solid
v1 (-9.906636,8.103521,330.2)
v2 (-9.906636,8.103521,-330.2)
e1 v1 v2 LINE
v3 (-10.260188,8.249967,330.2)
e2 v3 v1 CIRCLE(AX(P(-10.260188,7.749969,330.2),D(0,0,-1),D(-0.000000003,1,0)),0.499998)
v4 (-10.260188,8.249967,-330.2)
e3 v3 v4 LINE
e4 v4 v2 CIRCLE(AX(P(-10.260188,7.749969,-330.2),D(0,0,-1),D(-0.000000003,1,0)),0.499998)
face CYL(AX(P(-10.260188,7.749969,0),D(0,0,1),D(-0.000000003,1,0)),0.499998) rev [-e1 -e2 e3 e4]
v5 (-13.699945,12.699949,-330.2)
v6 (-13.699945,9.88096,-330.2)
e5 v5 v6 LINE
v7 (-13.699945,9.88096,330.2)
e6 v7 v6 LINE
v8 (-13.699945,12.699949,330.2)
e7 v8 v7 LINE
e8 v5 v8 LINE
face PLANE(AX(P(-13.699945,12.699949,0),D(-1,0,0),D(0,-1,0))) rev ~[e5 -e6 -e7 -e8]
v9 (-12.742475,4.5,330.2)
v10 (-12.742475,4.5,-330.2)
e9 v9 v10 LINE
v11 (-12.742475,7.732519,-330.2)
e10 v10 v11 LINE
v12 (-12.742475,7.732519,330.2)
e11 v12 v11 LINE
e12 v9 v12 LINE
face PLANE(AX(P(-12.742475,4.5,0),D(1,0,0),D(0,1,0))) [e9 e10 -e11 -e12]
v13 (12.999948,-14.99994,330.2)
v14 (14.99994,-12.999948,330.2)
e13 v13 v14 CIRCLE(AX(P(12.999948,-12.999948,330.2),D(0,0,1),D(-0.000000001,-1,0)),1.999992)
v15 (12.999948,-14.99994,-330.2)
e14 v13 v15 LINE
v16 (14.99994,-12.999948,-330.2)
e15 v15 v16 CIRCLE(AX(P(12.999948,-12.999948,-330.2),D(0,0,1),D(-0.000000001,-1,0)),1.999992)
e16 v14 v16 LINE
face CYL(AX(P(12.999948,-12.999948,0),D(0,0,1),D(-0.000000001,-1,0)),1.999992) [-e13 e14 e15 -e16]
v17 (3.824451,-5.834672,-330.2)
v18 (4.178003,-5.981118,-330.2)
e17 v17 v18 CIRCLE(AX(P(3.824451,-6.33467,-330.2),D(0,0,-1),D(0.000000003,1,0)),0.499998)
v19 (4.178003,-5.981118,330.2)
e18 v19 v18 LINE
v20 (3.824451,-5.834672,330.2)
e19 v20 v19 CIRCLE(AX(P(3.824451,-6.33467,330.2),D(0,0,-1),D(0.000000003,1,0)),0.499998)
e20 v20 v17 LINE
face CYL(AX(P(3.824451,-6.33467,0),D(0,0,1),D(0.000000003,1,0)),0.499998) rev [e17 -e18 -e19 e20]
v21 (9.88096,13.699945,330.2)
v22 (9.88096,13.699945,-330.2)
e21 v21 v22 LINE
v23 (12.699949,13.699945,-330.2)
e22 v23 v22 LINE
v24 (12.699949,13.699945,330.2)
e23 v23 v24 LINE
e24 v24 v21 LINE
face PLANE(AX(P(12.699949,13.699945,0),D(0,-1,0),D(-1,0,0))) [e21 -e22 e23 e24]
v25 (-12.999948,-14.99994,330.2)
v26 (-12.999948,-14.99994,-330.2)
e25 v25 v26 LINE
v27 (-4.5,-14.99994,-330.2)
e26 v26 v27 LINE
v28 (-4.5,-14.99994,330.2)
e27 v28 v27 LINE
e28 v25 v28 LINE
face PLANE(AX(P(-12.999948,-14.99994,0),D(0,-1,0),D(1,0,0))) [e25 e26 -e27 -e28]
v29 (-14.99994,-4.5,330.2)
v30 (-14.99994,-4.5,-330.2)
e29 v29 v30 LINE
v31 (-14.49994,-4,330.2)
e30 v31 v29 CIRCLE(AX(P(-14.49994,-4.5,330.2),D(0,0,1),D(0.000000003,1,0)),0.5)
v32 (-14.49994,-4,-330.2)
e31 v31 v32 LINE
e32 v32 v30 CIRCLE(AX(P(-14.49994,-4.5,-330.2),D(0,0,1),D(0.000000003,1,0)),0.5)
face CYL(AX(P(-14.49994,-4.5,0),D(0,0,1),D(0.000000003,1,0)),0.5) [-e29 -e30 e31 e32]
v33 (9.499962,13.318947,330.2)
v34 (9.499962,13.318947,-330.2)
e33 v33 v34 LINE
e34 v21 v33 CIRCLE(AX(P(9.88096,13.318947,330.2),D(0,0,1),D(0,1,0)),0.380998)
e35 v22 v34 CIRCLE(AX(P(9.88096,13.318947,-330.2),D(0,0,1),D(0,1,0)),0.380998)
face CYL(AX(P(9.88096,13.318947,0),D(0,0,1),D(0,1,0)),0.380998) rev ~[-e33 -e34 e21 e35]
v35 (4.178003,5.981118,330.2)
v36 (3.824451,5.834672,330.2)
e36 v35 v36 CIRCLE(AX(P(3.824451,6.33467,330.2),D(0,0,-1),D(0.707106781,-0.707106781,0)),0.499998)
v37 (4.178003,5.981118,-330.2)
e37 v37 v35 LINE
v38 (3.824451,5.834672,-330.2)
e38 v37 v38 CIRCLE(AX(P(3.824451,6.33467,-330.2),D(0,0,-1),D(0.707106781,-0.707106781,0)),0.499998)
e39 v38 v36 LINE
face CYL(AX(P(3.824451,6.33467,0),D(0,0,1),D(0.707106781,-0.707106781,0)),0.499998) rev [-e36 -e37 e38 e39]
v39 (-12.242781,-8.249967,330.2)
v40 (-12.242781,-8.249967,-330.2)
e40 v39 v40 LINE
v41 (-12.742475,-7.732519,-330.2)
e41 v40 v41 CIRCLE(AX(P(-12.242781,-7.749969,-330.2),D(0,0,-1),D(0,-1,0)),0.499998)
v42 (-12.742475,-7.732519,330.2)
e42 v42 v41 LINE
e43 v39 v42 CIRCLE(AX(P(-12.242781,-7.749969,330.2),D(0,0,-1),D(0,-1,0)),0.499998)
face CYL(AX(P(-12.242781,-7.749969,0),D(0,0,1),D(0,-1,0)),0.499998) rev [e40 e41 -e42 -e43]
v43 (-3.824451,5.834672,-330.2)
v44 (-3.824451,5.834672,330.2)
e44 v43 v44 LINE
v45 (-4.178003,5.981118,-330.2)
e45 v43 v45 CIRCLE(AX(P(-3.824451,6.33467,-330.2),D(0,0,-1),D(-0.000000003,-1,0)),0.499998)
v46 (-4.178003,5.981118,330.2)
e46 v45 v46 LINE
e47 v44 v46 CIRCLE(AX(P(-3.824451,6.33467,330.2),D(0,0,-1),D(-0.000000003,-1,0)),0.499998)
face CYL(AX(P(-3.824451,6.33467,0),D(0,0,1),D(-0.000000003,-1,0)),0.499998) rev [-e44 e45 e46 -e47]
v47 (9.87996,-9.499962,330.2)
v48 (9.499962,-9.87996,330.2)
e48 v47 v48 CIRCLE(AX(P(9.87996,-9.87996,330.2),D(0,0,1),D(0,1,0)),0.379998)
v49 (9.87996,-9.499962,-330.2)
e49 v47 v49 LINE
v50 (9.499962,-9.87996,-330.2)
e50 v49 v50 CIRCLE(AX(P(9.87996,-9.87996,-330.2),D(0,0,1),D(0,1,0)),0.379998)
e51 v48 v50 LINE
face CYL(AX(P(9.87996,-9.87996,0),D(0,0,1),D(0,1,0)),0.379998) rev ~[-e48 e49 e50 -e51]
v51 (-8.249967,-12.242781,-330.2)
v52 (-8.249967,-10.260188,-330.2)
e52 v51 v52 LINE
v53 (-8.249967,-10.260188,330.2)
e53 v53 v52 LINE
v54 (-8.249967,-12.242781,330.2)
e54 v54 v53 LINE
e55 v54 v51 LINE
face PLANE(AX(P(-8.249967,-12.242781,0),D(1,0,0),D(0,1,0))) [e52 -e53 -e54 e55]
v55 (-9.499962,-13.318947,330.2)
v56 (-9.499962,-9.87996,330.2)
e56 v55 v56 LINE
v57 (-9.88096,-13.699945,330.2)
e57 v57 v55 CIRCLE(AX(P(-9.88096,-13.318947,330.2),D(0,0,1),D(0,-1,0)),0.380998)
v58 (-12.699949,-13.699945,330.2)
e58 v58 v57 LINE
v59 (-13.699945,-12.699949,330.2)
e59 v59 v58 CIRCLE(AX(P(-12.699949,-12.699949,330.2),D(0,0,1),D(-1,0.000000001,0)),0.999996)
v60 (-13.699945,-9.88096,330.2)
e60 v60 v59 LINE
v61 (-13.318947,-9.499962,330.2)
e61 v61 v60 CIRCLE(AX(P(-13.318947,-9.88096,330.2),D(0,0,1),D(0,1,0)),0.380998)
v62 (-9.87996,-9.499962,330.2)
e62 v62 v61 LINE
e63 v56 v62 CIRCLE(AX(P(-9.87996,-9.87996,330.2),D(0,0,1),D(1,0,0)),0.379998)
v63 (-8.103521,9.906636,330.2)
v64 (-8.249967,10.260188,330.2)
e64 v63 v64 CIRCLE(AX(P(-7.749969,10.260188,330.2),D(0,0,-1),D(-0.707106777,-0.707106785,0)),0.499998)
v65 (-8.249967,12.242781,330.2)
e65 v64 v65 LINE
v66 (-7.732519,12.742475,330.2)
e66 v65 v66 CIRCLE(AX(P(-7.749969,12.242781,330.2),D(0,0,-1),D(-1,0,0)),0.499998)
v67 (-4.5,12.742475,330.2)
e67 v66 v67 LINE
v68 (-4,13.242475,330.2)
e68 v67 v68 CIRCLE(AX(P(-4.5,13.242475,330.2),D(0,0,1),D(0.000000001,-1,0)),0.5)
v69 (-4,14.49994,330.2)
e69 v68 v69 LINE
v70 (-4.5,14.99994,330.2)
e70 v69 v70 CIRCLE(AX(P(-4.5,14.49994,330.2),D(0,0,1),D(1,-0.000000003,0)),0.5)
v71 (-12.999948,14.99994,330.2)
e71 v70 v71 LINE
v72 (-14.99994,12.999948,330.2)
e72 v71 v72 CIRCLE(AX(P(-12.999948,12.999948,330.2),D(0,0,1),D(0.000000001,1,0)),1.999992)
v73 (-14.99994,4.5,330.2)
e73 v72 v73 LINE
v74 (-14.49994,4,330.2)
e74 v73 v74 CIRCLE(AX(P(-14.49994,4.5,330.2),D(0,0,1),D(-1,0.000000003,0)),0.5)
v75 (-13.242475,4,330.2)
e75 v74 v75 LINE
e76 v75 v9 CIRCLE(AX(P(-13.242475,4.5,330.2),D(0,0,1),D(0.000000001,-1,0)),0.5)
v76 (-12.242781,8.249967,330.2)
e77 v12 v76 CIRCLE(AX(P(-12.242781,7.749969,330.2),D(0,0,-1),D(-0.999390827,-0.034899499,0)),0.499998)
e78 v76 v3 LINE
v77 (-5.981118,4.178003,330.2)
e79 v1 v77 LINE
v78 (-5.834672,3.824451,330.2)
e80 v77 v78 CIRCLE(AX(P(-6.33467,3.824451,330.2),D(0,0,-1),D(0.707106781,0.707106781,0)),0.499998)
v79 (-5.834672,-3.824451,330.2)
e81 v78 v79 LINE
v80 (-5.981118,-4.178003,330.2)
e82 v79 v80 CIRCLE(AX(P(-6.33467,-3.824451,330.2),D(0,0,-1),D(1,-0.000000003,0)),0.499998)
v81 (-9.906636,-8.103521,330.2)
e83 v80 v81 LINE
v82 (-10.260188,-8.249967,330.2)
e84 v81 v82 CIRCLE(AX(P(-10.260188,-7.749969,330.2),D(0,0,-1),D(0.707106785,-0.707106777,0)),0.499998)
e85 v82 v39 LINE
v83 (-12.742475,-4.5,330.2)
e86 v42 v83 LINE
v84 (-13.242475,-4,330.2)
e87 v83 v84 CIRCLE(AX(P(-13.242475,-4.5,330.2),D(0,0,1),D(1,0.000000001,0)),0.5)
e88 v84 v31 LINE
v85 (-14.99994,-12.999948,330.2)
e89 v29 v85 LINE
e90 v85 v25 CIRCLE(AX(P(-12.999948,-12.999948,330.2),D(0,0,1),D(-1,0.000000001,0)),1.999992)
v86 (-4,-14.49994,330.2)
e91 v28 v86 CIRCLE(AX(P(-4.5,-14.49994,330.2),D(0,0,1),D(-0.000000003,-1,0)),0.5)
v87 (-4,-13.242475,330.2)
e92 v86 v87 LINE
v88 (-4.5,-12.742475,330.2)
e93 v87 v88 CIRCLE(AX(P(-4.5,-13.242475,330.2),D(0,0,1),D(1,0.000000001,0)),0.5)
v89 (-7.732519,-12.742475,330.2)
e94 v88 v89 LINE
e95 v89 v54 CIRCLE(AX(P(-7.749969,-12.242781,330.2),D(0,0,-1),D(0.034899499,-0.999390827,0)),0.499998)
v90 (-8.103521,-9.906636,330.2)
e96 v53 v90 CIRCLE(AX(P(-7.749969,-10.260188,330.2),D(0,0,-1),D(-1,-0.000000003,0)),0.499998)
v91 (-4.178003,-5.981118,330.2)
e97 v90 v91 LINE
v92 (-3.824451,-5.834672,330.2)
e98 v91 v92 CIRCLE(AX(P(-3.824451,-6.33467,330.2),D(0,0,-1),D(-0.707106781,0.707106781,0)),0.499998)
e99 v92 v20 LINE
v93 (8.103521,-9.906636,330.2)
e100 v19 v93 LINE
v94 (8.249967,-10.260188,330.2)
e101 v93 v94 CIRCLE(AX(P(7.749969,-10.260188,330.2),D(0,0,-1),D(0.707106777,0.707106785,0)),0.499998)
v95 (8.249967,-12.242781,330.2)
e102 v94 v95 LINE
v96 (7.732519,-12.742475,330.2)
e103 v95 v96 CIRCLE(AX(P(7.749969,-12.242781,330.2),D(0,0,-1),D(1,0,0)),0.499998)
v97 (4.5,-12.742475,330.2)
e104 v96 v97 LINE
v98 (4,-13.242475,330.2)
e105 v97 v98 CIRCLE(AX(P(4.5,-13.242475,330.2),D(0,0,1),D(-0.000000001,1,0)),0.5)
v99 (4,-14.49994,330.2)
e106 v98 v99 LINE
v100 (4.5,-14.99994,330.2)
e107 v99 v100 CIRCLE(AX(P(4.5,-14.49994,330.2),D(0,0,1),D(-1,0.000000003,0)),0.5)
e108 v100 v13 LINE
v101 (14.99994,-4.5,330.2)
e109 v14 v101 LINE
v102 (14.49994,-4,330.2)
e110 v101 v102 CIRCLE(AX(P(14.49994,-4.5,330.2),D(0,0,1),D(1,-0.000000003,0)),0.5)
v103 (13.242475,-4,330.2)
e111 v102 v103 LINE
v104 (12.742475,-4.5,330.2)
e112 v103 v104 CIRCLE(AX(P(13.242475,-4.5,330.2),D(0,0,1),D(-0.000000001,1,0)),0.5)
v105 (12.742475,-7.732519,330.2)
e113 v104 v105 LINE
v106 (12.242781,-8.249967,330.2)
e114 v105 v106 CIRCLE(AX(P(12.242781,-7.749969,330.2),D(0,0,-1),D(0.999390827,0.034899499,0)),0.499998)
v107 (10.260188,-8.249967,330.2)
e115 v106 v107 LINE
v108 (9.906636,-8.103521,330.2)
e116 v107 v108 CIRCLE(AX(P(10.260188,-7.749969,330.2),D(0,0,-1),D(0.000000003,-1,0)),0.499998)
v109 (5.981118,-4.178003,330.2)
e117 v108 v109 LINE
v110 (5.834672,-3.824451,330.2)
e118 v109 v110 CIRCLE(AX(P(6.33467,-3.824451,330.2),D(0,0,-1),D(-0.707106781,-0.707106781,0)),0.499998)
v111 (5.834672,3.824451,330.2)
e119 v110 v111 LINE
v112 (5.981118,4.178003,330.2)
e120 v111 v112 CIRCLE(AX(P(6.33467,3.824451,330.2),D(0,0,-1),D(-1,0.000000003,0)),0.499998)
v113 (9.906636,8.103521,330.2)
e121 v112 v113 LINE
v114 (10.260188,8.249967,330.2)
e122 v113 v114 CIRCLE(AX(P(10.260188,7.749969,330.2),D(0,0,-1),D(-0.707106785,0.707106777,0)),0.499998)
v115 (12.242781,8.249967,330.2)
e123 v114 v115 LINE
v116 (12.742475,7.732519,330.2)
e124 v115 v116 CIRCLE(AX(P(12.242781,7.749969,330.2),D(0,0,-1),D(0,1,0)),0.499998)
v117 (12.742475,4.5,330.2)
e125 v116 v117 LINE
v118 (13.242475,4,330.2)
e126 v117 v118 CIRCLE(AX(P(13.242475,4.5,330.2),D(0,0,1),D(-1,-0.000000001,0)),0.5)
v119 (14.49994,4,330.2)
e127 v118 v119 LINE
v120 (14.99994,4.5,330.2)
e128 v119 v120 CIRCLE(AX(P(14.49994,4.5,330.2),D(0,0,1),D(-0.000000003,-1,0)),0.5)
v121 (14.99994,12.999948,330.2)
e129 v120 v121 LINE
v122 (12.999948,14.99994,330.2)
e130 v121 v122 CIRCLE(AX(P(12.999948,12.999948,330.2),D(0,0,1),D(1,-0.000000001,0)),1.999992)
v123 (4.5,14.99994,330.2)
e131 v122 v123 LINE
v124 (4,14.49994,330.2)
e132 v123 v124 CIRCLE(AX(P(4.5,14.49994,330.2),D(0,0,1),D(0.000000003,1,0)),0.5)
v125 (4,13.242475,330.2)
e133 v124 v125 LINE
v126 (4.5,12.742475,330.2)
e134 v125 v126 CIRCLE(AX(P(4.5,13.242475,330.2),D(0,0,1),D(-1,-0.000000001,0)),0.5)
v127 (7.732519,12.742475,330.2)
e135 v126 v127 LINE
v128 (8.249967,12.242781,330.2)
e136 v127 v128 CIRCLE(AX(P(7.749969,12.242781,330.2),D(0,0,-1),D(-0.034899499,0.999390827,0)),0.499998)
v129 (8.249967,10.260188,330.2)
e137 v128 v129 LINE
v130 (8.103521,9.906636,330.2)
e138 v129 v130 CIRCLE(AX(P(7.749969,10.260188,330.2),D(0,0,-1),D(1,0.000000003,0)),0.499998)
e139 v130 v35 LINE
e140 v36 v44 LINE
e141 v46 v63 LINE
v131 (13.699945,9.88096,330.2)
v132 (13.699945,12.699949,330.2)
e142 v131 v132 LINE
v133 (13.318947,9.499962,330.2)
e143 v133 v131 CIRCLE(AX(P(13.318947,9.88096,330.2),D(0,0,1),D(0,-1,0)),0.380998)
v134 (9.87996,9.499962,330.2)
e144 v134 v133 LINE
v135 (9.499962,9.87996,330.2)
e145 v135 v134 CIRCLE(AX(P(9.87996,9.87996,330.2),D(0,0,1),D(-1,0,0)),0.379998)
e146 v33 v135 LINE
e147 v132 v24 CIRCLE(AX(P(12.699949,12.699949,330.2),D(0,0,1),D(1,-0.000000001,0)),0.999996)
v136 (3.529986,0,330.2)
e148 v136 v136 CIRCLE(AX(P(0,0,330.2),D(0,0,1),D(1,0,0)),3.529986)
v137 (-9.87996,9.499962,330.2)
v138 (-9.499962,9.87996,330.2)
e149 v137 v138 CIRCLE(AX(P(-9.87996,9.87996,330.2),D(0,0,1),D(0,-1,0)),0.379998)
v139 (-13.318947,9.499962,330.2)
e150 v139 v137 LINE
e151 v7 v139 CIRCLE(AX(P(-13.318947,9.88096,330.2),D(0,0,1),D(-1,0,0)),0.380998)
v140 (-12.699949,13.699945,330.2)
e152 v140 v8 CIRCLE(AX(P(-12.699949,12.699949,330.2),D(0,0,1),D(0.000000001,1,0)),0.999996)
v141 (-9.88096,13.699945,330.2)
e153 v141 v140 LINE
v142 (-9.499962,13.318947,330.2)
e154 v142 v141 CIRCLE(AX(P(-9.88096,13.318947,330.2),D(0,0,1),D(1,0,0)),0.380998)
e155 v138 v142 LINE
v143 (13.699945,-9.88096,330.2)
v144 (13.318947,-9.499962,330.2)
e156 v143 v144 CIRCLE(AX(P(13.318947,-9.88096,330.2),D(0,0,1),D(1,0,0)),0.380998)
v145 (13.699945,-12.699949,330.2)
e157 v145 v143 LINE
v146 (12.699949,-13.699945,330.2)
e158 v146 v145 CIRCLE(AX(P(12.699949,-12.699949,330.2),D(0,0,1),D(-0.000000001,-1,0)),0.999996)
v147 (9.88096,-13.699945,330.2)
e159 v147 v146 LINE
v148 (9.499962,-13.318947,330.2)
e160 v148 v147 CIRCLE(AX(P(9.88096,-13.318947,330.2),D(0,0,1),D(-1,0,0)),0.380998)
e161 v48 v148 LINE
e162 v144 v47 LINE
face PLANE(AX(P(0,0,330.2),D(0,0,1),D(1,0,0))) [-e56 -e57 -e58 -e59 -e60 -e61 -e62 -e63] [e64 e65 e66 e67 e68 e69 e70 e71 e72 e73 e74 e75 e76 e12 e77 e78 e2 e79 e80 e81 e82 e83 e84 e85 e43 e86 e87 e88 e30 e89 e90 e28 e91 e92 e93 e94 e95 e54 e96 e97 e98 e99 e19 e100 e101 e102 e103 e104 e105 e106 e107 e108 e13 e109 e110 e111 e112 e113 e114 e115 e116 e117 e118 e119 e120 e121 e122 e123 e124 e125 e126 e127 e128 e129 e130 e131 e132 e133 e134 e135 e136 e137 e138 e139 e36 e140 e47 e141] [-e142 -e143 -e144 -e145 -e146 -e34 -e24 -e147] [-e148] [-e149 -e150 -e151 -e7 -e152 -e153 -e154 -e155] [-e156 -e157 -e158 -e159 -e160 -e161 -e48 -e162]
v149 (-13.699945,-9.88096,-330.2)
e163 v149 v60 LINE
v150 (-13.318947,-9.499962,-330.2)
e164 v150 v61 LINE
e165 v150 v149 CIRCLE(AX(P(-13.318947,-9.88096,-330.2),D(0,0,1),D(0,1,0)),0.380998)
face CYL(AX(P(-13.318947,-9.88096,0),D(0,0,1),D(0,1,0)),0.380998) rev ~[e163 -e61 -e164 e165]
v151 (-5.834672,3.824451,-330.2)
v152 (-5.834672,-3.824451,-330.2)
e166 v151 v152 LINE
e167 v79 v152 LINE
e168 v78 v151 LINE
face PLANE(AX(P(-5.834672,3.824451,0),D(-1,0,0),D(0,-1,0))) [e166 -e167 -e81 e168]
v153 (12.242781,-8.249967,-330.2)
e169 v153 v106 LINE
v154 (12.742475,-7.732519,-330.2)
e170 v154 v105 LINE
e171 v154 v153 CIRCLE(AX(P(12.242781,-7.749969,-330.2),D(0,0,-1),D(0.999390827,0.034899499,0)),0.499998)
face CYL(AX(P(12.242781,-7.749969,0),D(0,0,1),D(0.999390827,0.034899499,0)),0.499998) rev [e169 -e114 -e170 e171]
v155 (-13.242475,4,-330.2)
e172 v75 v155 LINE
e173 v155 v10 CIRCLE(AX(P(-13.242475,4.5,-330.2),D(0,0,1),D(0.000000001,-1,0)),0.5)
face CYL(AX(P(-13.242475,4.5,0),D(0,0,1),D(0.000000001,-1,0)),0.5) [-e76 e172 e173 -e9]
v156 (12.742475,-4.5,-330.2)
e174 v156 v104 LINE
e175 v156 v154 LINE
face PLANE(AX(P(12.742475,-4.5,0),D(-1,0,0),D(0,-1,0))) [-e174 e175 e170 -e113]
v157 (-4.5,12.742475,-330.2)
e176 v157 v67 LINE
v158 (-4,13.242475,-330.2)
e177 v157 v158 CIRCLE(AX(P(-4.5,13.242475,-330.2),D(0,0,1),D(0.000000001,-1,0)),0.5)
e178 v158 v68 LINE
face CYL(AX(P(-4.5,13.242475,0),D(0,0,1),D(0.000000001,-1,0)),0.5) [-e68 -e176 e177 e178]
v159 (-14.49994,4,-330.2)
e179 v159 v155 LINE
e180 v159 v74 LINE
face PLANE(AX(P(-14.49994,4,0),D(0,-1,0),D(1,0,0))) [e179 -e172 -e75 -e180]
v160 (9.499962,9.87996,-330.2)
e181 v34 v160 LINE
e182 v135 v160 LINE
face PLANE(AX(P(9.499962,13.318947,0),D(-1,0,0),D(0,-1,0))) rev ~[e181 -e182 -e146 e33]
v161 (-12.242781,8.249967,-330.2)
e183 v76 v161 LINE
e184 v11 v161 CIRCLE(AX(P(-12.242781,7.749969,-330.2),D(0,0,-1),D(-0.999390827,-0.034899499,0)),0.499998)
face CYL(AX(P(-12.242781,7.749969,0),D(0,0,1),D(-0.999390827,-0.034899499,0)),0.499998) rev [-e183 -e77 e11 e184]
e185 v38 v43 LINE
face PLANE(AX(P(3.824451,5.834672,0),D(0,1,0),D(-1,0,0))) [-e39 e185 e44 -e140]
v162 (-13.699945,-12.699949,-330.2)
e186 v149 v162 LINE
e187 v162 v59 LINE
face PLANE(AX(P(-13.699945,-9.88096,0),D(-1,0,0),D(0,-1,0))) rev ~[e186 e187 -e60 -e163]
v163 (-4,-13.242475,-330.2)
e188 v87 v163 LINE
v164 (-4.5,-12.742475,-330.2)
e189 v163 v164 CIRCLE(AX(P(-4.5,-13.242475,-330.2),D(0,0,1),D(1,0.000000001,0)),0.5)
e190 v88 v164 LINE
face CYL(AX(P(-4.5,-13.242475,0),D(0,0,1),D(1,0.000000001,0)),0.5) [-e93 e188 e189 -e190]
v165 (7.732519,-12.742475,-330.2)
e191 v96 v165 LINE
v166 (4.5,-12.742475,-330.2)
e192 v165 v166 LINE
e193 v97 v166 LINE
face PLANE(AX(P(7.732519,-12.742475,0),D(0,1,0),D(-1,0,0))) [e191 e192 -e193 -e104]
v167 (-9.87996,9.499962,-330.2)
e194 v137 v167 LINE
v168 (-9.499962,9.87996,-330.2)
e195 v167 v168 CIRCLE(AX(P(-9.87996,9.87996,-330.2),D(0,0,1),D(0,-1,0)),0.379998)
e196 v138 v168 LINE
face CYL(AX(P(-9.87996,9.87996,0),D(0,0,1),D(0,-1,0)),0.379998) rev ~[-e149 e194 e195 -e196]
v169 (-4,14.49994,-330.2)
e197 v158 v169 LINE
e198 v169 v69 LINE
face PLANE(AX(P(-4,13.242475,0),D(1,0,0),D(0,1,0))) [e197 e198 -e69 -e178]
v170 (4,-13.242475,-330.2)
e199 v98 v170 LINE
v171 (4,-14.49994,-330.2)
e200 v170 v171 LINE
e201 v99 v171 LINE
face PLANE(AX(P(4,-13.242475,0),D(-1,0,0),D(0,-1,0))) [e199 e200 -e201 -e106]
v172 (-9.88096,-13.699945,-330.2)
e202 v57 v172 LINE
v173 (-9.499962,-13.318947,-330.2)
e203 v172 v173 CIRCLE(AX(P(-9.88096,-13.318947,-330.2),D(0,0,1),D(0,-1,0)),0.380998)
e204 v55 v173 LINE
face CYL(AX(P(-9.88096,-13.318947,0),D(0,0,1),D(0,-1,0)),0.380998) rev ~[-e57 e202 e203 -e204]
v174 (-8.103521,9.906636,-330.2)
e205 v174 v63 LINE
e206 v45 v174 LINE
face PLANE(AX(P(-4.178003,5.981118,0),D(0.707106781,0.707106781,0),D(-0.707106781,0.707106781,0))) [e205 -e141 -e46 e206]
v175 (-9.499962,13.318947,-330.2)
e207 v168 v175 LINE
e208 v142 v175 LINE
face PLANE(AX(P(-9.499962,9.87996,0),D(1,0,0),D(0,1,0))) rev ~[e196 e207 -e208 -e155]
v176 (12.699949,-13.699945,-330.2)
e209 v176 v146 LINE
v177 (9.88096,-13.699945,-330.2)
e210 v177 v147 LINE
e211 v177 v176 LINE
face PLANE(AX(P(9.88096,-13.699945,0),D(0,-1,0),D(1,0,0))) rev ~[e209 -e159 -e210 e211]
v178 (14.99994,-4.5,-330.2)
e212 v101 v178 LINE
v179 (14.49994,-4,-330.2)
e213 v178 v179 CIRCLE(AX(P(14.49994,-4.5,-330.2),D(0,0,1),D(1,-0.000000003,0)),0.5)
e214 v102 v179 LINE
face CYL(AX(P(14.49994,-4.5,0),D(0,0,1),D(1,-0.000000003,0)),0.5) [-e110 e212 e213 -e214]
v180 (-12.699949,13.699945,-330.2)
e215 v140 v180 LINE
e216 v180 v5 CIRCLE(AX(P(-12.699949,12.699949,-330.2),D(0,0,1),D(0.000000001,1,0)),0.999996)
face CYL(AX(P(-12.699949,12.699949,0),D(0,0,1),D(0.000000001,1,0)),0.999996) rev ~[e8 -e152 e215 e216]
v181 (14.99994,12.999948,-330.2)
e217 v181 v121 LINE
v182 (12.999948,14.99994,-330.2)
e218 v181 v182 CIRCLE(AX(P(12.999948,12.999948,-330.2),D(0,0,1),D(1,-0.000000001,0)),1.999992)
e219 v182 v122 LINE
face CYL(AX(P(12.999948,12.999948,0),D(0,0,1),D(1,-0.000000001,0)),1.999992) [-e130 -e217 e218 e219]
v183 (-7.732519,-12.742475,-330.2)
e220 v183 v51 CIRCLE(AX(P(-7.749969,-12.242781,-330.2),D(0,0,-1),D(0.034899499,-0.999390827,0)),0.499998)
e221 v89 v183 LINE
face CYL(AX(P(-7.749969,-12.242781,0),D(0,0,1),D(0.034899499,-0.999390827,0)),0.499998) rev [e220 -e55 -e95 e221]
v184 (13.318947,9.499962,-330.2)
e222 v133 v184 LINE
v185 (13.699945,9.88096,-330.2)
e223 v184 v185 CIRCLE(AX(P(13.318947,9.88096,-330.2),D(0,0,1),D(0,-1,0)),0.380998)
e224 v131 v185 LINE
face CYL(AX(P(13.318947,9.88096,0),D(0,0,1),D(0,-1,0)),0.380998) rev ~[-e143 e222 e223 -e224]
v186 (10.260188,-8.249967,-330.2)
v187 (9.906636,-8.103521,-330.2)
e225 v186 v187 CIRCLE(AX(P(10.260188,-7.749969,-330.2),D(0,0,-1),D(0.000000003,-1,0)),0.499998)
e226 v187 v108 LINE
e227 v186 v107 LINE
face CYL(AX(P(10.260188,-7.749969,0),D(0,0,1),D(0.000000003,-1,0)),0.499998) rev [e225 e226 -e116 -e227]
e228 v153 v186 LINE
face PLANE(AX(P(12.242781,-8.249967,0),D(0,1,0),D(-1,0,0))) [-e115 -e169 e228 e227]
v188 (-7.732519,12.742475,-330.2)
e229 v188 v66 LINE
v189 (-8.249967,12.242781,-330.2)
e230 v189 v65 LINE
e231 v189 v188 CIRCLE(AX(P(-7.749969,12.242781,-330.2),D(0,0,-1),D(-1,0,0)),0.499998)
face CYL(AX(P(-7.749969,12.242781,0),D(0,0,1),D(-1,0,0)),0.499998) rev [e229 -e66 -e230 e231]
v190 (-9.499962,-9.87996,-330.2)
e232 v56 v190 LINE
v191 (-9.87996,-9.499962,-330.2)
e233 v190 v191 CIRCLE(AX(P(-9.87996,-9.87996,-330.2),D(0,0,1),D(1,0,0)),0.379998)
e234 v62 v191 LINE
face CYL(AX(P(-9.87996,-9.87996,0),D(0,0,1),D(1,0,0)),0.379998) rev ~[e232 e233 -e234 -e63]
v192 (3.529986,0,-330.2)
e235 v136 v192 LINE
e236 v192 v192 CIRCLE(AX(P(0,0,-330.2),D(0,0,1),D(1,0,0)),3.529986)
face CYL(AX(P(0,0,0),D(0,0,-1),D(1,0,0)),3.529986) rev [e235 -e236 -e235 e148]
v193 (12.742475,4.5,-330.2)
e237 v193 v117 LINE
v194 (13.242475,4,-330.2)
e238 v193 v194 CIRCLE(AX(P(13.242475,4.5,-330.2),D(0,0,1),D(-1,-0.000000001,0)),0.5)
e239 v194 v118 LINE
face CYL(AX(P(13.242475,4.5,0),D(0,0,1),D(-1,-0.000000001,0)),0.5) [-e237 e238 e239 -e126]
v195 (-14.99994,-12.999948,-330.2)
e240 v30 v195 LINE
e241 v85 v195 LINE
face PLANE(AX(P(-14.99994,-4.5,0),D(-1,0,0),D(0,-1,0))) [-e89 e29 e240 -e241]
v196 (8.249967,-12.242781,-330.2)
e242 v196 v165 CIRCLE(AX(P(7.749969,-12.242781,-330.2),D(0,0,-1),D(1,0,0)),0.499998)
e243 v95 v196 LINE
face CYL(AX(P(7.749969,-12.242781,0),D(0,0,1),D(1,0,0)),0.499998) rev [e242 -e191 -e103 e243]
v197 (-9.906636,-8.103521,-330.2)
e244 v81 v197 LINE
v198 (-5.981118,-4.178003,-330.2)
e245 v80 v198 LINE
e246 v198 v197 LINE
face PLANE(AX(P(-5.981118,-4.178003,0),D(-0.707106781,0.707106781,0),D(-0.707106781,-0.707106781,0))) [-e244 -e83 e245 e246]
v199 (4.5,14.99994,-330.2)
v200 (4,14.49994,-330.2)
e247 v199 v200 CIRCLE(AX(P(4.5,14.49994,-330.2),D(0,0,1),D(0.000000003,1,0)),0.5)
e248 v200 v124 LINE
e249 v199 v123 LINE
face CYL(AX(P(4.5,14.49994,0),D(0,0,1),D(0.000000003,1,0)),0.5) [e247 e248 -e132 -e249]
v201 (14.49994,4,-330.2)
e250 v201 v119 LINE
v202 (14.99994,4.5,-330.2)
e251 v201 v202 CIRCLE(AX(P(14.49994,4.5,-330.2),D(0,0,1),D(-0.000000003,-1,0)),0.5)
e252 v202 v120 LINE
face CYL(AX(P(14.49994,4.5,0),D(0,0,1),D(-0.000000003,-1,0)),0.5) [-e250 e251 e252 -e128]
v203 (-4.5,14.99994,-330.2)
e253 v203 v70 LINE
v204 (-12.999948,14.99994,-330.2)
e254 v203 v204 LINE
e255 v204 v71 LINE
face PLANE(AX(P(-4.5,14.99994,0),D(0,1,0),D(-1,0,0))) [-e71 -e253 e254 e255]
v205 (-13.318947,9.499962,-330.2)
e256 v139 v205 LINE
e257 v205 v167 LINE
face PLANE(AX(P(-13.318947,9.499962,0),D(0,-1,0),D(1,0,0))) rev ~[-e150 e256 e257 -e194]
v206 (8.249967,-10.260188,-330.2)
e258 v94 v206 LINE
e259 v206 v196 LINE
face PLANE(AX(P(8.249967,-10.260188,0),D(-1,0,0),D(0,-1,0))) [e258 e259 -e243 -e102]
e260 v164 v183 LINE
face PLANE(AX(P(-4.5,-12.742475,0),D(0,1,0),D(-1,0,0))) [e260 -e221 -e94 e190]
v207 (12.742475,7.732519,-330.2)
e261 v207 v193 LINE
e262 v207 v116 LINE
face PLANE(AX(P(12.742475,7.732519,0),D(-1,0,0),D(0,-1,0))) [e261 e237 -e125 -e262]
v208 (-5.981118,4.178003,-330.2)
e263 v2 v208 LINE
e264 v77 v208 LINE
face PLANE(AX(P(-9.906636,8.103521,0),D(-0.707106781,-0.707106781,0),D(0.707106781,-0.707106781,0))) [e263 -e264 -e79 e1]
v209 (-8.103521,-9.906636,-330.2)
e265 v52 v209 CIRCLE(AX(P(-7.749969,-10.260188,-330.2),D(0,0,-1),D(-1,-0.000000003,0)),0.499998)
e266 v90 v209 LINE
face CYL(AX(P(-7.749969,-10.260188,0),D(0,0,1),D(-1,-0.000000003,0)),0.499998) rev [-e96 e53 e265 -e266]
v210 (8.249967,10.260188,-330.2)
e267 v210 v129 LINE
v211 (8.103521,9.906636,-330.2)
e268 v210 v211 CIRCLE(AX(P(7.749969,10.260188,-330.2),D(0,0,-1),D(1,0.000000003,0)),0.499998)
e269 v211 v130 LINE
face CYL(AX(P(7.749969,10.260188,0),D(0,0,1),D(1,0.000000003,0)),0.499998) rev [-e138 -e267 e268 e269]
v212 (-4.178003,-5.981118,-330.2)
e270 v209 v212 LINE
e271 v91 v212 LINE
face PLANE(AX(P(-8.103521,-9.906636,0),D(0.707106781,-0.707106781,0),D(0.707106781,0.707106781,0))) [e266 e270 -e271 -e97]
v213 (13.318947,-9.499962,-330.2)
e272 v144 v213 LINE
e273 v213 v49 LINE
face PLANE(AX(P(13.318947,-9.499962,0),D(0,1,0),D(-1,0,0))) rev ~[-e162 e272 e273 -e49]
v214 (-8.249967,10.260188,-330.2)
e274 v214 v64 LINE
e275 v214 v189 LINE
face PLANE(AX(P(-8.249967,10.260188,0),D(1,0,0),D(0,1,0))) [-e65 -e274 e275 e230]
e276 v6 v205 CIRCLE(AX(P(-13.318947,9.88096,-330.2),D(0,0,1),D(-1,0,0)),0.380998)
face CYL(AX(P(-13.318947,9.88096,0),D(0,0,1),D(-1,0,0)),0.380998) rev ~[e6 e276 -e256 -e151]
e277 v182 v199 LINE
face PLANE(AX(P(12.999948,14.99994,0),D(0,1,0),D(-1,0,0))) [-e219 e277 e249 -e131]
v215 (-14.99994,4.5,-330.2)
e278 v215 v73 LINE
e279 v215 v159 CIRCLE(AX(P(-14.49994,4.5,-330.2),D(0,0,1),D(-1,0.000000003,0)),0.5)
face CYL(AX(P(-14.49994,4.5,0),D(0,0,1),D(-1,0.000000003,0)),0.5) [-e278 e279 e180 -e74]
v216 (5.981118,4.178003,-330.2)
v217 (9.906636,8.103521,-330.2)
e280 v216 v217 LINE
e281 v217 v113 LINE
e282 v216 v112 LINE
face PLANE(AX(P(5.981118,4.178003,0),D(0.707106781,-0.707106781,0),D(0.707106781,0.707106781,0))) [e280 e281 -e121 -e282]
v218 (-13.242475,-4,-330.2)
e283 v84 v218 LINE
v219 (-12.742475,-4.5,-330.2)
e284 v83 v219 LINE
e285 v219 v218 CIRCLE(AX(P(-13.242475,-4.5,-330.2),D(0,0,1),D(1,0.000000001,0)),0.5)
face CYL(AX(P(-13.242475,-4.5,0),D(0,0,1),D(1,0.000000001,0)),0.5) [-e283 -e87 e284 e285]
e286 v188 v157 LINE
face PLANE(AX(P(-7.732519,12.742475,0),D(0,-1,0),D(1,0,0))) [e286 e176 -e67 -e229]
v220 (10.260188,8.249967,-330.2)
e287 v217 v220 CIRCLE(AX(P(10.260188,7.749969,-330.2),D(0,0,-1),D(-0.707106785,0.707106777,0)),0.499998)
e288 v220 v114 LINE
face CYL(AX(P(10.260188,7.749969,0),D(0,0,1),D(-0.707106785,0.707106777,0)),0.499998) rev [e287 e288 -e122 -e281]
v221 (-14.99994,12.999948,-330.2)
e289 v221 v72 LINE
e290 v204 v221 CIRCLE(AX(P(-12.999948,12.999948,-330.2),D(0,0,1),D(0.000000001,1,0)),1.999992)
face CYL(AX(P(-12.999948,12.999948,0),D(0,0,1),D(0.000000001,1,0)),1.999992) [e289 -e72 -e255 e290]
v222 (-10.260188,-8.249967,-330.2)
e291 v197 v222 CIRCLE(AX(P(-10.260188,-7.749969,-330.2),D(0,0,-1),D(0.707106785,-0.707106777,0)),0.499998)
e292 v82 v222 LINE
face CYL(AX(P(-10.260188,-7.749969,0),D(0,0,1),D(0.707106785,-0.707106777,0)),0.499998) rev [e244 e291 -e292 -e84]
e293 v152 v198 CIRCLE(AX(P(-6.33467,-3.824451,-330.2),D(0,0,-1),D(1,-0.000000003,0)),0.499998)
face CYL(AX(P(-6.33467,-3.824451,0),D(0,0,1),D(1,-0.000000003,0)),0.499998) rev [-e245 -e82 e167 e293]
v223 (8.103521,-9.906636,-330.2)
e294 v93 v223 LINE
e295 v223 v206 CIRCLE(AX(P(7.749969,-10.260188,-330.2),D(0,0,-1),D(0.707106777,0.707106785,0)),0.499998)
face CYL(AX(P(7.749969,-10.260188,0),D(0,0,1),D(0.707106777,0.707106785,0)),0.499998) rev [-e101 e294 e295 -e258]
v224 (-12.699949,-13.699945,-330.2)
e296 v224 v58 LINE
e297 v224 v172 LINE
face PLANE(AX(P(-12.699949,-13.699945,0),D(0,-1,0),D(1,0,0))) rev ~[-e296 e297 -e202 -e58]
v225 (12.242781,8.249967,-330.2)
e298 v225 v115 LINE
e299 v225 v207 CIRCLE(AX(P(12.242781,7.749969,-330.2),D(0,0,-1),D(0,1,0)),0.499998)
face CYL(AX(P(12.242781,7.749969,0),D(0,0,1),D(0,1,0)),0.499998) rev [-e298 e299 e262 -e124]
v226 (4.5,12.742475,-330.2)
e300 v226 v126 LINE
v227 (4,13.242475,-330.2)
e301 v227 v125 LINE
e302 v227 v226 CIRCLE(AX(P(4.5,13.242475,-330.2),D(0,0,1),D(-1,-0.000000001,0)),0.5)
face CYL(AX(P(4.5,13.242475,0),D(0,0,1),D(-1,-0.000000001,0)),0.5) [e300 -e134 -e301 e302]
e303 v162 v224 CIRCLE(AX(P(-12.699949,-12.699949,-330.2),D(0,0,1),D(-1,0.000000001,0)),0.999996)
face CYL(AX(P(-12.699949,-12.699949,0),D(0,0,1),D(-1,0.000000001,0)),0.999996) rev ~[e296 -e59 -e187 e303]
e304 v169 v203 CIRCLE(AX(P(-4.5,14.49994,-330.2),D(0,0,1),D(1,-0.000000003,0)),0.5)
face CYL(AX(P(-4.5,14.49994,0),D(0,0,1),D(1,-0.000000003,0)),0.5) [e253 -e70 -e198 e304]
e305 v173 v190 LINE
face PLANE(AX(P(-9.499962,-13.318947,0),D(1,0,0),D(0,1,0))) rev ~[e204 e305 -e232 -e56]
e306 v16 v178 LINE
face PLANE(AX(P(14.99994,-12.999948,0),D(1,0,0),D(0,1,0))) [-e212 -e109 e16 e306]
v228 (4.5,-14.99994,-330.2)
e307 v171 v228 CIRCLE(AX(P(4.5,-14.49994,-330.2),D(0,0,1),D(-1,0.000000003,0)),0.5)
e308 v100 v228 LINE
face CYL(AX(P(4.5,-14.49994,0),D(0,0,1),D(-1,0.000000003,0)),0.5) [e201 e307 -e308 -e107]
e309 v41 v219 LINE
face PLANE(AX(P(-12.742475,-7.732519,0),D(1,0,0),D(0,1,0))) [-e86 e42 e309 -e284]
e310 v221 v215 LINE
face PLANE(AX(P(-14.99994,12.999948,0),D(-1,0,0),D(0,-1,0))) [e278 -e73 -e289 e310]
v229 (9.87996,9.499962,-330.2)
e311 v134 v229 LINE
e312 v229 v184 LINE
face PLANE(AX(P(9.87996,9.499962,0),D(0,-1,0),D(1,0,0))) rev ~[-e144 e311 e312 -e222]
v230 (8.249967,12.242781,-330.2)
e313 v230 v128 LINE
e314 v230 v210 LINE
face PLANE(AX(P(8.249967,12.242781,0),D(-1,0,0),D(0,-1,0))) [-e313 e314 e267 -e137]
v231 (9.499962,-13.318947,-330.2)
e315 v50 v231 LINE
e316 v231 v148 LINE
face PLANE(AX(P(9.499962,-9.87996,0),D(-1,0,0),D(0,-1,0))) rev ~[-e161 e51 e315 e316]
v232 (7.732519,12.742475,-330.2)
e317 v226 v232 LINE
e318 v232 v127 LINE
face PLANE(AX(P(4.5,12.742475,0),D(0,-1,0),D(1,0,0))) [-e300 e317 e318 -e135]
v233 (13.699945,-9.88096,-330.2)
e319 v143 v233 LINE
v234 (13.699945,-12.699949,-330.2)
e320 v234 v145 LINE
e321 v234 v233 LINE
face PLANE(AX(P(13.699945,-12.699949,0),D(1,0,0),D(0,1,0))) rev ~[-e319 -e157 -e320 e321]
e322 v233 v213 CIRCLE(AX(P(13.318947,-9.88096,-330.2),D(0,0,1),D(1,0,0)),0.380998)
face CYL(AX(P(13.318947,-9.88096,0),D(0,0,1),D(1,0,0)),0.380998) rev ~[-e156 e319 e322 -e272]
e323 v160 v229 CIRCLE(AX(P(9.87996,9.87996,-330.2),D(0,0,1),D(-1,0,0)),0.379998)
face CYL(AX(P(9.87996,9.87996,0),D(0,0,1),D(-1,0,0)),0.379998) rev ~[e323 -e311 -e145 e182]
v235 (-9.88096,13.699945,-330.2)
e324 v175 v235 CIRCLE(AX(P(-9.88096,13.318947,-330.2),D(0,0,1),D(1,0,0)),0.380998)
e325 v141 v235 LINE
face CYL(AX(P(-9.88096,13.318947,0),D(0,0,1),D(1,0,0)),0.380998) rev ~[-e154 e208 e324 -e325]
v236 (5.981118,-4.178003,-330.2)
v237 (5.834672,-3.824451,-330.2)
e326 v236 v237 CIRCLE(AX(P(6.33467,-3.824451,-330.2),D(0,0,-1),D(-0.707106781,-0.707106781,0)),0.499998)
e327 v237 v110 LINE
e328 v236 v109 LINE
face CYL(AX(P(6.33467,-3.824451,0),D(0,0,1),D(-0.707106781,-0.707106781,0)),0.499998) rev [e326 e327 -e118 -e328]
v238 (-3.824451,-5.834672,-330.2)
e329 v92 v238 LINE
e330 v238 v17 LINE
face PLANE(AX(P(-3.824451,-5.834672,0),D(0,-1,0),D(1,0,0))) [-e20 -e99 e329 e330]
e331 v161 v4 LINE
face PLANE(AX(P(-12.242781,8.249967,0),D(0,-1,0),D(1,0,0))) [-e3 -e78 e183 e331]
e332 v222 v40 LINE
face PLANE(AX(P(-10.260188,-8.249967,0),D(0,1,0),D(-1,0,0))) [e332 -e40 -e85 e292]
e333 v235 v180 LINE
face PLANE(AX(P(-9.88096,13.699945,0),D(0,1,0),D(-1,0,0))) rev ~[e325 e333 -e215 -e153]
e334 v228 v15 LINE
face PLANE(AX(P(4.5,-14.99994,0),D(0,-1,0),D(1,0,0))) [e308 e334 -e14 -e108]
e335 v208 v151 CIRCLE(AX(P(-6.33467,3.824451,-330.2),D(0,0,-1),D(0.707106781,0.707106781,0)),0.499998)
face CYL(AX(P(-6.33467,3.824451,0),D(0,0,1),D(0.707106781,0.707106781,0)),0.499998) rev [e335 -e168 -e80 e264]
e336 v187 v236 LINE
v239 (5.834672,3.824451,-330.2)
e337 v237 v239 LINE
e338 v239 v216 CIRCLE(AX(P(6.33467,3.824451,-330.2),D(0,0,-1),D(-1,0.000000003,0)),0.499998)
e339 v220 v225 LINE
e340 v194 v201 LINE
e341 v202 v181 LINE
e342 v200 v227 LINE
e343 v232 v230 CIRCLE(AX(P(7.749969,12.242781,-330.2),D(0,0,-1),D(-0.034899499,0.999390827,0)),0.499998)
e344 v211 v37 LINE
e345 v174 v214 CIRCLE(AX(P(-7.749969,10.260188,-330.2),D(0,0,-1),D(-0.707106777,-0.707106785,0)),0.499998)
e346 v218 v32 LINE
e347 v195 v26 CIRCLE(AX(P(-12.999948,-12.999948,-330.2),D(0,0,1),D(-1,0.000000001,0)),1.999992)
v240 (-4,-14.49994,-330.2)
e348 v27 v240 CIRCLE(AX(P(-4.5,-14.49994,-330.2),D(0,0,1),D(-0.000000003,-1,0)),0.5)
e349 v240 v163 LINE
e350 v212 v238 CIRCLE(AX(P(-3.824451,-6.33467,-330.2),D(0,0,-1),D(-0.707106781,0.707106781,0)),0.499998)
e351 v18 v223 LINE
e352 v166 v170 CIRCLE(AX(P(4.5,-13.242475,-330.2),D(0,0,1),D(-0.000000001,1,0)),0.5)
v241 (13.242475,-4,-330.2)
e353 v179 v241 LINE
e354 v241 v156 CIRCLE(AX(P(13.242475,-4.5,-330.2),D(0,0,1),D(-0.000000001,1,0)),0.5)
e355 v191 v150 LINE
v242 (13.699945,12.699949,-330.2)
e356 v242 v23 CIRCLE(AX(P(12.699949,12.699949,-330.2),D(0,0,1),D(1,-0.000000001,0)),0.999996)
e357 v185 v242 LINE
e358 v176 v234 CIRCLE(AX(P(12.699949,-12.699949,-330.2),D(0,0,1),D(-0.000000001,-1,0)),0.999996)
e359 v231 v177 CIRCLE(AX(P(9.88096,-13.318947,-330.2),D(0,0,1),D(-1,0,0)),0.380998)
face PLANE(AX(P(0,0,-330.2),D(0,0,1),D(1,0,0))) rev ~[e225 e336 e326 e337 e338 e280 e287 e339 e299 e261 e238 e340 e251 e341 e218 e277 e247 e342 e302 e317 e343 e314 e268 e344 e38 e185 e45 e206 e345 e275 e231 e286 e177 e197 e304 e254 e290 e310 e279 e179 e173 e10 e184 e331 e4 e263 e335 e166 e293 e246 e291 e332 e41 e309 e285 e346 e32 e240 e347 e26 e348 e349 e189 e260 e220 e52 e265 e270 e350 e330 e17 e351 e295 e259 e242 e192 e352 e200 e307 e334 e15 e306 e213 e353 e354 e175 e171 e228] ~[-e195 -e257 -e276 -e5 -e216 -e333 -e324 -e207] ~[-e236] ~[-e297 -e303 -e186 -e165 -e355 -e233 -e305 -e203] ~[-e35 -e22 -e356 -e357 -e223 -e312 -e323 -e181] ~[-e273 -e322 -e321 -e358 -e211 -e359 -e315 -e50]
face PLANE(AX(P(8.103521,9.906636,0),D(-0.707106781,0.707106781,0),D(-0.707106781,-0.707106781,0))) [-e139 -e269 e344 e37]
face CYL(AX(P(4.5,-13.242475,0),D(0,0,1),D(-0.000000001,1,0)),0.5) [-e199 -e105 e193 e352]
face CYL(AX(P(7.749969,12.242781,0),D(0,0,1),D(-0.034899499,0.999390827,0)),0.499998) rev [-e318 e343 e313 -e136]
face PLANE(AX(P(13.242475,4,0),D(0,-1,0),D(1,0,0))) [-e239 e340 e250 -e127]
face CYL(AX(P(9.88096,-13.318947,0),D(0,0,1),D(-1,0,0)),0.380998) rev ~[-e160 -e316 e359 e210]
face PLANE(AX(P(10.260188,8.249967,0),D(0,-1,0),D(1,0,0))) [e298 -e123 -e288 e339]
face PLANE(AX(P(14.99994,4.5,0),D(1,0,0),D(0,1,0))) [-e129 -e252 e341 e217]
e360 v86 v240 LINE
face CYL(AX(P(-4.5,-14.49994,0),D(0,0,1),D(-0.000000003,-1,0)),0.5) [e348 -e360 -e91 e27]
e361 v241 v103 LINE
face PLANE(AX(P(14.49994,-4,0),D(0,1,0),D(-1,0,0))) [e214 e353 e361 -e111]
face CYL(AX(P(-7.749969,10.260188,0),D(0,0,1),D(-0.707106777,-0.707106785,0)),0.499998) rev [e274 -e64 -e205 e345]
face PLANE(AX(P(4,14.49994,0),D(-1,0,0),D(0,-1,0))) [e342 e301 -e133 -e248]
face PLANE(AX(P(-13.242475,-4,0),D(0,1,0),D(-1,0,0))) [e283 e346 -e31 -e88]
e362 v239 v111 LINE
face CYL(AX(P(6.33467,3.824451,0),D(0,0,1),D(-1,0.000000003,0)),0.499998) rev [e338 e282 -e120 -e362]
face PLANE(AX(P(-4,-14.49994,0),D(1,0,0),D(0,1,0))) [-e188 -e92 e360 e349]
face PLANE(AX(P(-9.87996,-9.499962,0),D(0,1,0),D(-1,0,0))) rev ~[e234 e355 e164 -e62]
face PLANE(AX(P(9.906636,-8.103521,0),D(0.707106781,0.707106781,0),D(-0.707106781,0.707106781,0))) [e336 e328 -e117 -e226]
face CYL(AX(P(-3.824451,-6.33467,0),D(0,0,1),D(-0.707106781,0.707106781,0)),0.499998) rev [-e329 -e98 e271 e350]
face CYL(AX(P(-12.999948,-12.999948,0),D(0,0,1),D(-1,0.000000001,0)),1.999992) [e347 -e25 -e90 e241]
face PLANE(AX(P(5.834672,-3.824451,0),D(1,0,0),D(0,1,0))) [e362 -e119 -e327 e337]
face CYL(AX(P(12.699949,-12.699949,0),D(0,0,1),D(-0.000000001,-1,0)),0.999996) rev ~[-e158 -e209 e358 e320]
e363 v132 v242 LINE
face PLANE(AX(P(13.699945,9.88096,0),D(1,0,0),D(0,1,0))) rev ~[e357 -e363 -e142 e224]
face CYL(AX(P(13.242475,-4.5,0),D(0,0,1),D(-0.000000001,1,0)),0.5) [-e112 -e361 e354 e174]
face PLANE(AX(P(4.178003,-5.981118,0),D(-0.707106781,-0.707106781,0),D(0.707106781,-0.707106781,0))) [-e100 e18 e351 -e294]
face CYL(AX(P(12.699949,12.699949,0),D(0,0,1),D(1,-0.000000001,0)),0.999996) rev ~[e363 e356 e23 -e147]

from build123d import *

# Parameters (mm, degrees)
SKETCH1_R           = 3.52998588
BOSS_EXTRUDE1_DEPTH = 330.2


with BuildPart() as part:
    # Sketch1 → Boss-Extrude1 (new, symmetric)
    with BuildSketch(Plane.XY):
        with BuildLine():
            Line((14.49994, -4), (13.24247465, -4))
            ThreePointArc((13.24247465, -4), (12.88892126, -4.146446609), (12.74247465, -4.5))
            Line((12.74247465, -4.5), (12.74247465, -7.732519321))
            ThreePointArc((12.74247465, -7.732519321), (12.602449697, -8.097296796), (12.242781236, -8.249967))
            Line((12.242781236, -8.249967), (10.260188032, -8.249967))
            ThreePointArc((10.260188032, -8.249967), (10.068847082, -8.211906919), (9.906636056, -8.103520976))
            Line((9.906636056, -8.103520976), (5.981117769, -4.178002689))
            ThreePointArc((5.981117769, -4.178002689), (5.872731827, -4.015791664), (5.834671745, -3.824450713))
            Line((5.834671745, -3.824450713), (5.834671745, -1.01249595))
            Line((5.834671745, -1.01249595), (5.834671745, 0.88749645))
            Line((5.834671745, 0.88749645), (5.834671745, 3.824450713))
            ThreePointArc((5.834671745, 3.824450713), (5.872731827, 4.015791664), (5.981117769, 4.178002689))
            Line((5.981117769, 4.178002689), (9.906636056, 8.103520976))
            ThreePointArc((9.906636056, 8.103520976), (10.068847082, 8.211906919), (10.260188032, 8.249967))
            Line((10.260188032, 8.249967), (12.242781236, 8.249967))
            ThreePointArc((12.242781236, 8.249967), (12.602449697, 8.097296796), (12.74247465, 7.732519321))
            Line((12.74247465, 7.732519321), (12.74247465, 4.5))
            ThreePointArc((12.74247465, 4.5), (12.88892126, 4.146446609), (13.24247465, 4))
            Line((13.24247465, 4), (14.49994, 4))
            ThreePointArc((14.49994, 4), (14.853493391, 4.146446609), (14.99994, 4.5))
            Line((14.99994, 4.5), (14.99994, 12.999948))
            ThreePointArc((14.99994, 12.999948), (14.414155906, 14.414155906), (12.999948, 14.99994))
            Line((12.999948, 14.99994), (4.5, 14.99994))
            ThreePointArc((4.5, 14.99994), (4.146446609, 14.853493391), (4, 14.49994))
            Line((4, 14.49994), (4, 13.24247465))
            ThreePointArc((4, 13.24247465), (4.146446609, 12.88892126), (4.5, 12.74247465))
            Line((4.5, 12.74247465), (7.732519321, 12.74247465))
            ThreePointArc((7.732519321, 12.74247465), (8.097296796, 12.602449697), (8.249967, 12.242781236))
            Line((8.249967, 12.242781236), (8.249967, 10.260188032))
            ThreePointArc((8.249967, 10.260188032), (8.211906919, 10.068847082), (8.103520976, 9.906636056))
            Line((8.103520976, 9.906636056), (4.178002689, 5.981117769))
            ThreePointArc((4.178002689, 5.981117769), (4.015791664, 5.872731827), (3.824450713, 5.834671745))
            Line((3.824450713, 5.834671745), (0.9499962, 5.834671745))
            Line((0.9499962, 5.834671745), (-0.9499962, 5.834671745))
            Line((-0.9499962, 5.834671745), (-3.824450713, 5.834671745))
            ThreePointArc((-3.824450713, 5.834671745), (-4.015791664, 5.872731827), (-4.178002689, 5.981117769))
            Line((-4.178002689, 5.981117769), (-8.103520976, 9.906636056))
            ThreePointArc((-8.103520976, 9.906636056), (-8.211906919, 10.068847082), (-8.249967, 10.260188032))
            Line((-8.249967, 10.260188032), (-8.249967, 12.242781236))
            ThreePointArc((-8.249967, 12.242781236), (-8.097296796, 12.602449697), (-7.732519321, 12.74247465))
            Line((-7.732519321, 12.74247465), (-4.5, 12.74247465))
            ThreePointArc((-4.5, 12.74247465), (-4.146446609, 12.88892126), (-4, 13.24247465))
            Line((-4, 13.24247465), (-4, 14.49994))
            ThreePointArc((-4, 14.49994), (-4.146446609, 14.853493391), (-4.5, 14.99994))
            Line((-4.5, 14.99994), (-12.999948, 14.99994))
            ThreePointArc((-12.999948, 14.99994), (-14.414155906, 14.414155906), (-14.99994, 12.999948))
            Line((-14.99994, 12.999948), (-14.99994, 4.5))
            ThreePointArc((-14.99994, 4.5), (-14.853493391, 4.146446609), (-14.49994, 4))
            Line((-14.49994, 4), (-13.24247465, 4))
            ThreePointArc((-13.24247465, 4), (-12.88892126, 4.146446609), (-12.74247465, 4.5))
            Line((-12.74247465, 4.5), (-12.74247465, 7.732519321))
            ThreePointArc((-12.74247465, 7.732519321), (-12.602449697, 8.097296796), (-12.242781236, 8.249967))
            Line((-12.242781236, 8.249967), (-10.260188032, 8.249967))
            ThreePointArc((-10.260188032, 8.249967), (-10.068847082, 8.211906919), (-9.906636056, 8.103520976))
            Line((-9.906636056, 8.103520976), (-5.981117769, 4.178002689))
            ThreePointArc((-5.981117769, 4.178002689), (-5.872731827, 4.015791664), (-5.834671745, 3.824450713))
            Line((-5.834671745, 3.824450713), (-5.834671745, 0.88749645))
            Line((-5.834671745, 0.88749645), (-5.834671745, -1.01249595))
            Line((-5.834671745, -1.01249595), (-5.834671745, -3.824450713))
            ThreePointArc((-5.834671745, -3.824450713), (-5.872731827, -4.015791664), (-5.981117769, -4.178002689))
            Line((-5.981117769, -4.178002689), (-9.906636056, -8.103520976))
            ThreePointArc((-9.906636056, -8.103520976), (-10.068847082, -8.211906919), (-10.260188032, -8.249967))
            Line((-10.260188032, -8.249967), (-12.242781236, -8.249967))
            ThreePointArc((-12.242781236, -8.249967), (-12.602449697, -8.097296796), (-12.74247465, -7.732519321))
            Line((-12.74247465, -7.732519321), (-12.74247465, -4.5))
            ThreePointArc((-12.74247465, -4.5), (-12.88892126, -4.146446609), (-13.24247465, -4))
            Line((-13.24247465, -4), (-14.49994, -4))
            ThreePointArc((-14.49994, -4), (-14.853493391, -4.146446609), (-14.99994, -4.5))
            Line((-14.99994, -4.5), (-14.99994, -12.999948))
            ThreePointArc((-14.99994, -12.999948), (-14.414155906, -14.414155906), (-12.999948, -14.99994))
            Line((-12.999948, -14.99994), (-4.5, -14.99994))
            ThreePointArc((-4.5, -14.99994), (-4.146446609, -14.853493391), (-4, -14.49994))
            Line((-4, -14.49994), (-4, -13.24247465))
            ThreePointArc((-4, -13.24247465), (-4.146446609, -12.88892126), (-4.5, -12.74247465))
            Line((-4.5, -12.74247465), (-7.732519321, -12.74247465))
            ThreePointArc((-7.732519321, -12.74247465), (-8.097296796, -12.602449697), (-8.249967, -12.242781236))
            Line((-8.249967, -12.242781236), (-8.249967, -10.260188032))
            ThreePointArc((-8.249967, -10.260188032), (-8.211906919, -10.068847082), (-8.103520976, -9.906636056))
            Line((-8.103520976, -9.906636056), (-4.178002689, -5.981117769))
            ThreePointArc((-4.178002689, -5.981117769), (-4.015791664, -5.872731827), (-3.824450713, -5.834671745))
            Line((-3.824450713, -5.834671745), (-0.9499962, -5.834671745))
            Line((-0.9499962, -5.834671745), (0.9499962, -5.834671745))
            Line((0.9499962, -5.834671745), (3.824450713, -5.834671745))
            ThreePointArc((3.824450713, -5.834671745), (4.015791664, -5.872731827), (4.178002689, -5.981117769))
            Line((4.178002689, -5.981117769), (8.103520976, -9.906636056))
            ThreePointArc((8.103520976, -9.906636056), (8.211906919, -10.068847082), (8.249967, -10.260188032))
            Line((8.249967, -10.260188032), (8.249967, -12.242781236))
            ThreePointArc((8.249967, -12.242781236), (8.097296796, -12.602449697), (7.732519321, -12.74247465))
            Line((7.732519321, -12.74247465), (4.5, -12.74247465))
            ThreePointArc((4.5, -12.74247465), (4.146446609, -12.88892126), (4, -13.24247465))
            Line((4, -13.24247465), (4, -14.49994))
            ThreePointArc((4, -14.49994), (4.146446609, -14.853493391), (4.5, -14.99994))
            Line((4.5, -14.99994), (12.999948, -14.99994))
            ThreePointArc((12.999948, -14.99994), (14.414155906, -14.414155906), (14.99994, -12.999948))
            Line((14.99994, -12.999948), (14.99994, -4.5))
            ThreePointArc((14.99994, -4.5), (14.853493391, -4.146446609), (14.49994, -4))
        make_face()
        Circle(SKETCH1_R, mode=Mode.SUBTRACT)
        with BuildLine():
            Line((-12.6999492, -13.6999452), (-9.880960476, -13.6999452))
            ThreePointArc((-9.880960476, -13.6999452), (-9.61155387, -13.58835333), (-9.499962, -13.318946724))
            Line((-9.499962, -13.318946724), (-9.499962, -9.87996048))
            ThreePointArc((-9.499962, -9.87996048), (-9.611260978, -9.611260978), (-9.87996048, -9.499962))
            Line((-9.87996048, -9.499962), (-13.318946724, -9.499962))
            ThreePointArc((-13.318946724, -9.499962), (-13.58835333, -9.61155387), (-13.6999452, -9.880960476))
            Line((-13.6999452, -9.880960476), (-13.6999452, -12.6999492))
            ThreePointArc((-13.6999452, -12.6999492), (-13.407053153, -13.407053153), (-12.6999492, -13.6999452))
        make_face(mode=Mode.SUBTRACT)
        with BuildLine():
            Line((13.6999452, -12.6999492), (13.6999452, -9.880960476))
            ThreePointArc((13.6999452, -9.880960476), (13.58835333, -9.61155387), (13.318946724, -9.499962))
            Line((13.318946724, -9.499962), (9.87996048, -9.499962))
            ThreePointArc((9.87996048, -9.499962), (9.611260978, -9.611260978), (9.499962, -9.87996048))
            Line((9.499962, -9.87996048), (9.499962, -13.318946724))
            ThreePointArc((9.499962, -13.318946724), (9.61155387, -13.58835333), (9.880960476, -13.6999452))
            Line((9.880960476, -13.6999452), (12.6999492, -13.6999452))
            ThreePointArc((12.6999492, -13.6999452), (13.407053153, -13.407053153), (13.6999452, -12.6999492))
        make_face(mode=Mode.SUBTRACT)
        with BuildLine():
            Line((9.87996048, 9.499962), (13.318946724, 9.499962))
            ThreePointArc((13.318946724, 9.499962), (13.58835333, 9.61155387), (13.6999452, 9.880960476))
            Line((13.6999452, 9.880960476), (13.6999452, 12.6999492))
            ThreePointArc((13.6999452, 12.6999492), (13.407053153, 13.407053153), (12.6999492, 13.6999452))
            Line((12.6999492, 13.6999452), (9.880960476, 13.6999452))
            ThreePointArc((9.880960476, 13.6999452), (9.61155387, 13.58835333), (9.499962, 13.318946724))
            Line((9.499962, 13.318946724), (9.499962, 9.87996048))
            ThreePointArc((9.499962, 9.87996048), (9.611260978, 9.611260978), (9.87996048, 9.499962))
        make_face(mode=Mode.SUBTRACT)
        with BuildLine():
            Line((-13.6999452, 12.6999492), (-13.6999452, 9.880960476))
            ThreePointArc((-13.6999452, 9.880960476), (-13.58835333, 9.61155387), (-13.318946724, 9.499962))
            Line((-13.318946724, 9.499962), (-9.87996048, 9.499962))
            ThreePointArc((-9.87996048, 9.499962), (-9.611260978, 9.611260978), (-9.499962, 9.87996048))
            Line((-9.499962, 9.87996048), (-9.499962, 13.318946724))
            ThreePointArc((-9.499962, 13.318946724), (-9.61155387, 13.58835333), (-9.880960476, 13.6999452))
            Line((-9.880960476, 13.6999452), (-12.6999492, 13.6999452))
            ThreePointArc((-12.6999492, 13.6999452), (-13.407053153, 13.407053153), (-13.6999452, 12.6999492))
        make_face(mode=Mode.SUBTRACT)
    extrude(amount=BOSS_EXTRUDE1_DEPTH, both=True)


solid = part.part
